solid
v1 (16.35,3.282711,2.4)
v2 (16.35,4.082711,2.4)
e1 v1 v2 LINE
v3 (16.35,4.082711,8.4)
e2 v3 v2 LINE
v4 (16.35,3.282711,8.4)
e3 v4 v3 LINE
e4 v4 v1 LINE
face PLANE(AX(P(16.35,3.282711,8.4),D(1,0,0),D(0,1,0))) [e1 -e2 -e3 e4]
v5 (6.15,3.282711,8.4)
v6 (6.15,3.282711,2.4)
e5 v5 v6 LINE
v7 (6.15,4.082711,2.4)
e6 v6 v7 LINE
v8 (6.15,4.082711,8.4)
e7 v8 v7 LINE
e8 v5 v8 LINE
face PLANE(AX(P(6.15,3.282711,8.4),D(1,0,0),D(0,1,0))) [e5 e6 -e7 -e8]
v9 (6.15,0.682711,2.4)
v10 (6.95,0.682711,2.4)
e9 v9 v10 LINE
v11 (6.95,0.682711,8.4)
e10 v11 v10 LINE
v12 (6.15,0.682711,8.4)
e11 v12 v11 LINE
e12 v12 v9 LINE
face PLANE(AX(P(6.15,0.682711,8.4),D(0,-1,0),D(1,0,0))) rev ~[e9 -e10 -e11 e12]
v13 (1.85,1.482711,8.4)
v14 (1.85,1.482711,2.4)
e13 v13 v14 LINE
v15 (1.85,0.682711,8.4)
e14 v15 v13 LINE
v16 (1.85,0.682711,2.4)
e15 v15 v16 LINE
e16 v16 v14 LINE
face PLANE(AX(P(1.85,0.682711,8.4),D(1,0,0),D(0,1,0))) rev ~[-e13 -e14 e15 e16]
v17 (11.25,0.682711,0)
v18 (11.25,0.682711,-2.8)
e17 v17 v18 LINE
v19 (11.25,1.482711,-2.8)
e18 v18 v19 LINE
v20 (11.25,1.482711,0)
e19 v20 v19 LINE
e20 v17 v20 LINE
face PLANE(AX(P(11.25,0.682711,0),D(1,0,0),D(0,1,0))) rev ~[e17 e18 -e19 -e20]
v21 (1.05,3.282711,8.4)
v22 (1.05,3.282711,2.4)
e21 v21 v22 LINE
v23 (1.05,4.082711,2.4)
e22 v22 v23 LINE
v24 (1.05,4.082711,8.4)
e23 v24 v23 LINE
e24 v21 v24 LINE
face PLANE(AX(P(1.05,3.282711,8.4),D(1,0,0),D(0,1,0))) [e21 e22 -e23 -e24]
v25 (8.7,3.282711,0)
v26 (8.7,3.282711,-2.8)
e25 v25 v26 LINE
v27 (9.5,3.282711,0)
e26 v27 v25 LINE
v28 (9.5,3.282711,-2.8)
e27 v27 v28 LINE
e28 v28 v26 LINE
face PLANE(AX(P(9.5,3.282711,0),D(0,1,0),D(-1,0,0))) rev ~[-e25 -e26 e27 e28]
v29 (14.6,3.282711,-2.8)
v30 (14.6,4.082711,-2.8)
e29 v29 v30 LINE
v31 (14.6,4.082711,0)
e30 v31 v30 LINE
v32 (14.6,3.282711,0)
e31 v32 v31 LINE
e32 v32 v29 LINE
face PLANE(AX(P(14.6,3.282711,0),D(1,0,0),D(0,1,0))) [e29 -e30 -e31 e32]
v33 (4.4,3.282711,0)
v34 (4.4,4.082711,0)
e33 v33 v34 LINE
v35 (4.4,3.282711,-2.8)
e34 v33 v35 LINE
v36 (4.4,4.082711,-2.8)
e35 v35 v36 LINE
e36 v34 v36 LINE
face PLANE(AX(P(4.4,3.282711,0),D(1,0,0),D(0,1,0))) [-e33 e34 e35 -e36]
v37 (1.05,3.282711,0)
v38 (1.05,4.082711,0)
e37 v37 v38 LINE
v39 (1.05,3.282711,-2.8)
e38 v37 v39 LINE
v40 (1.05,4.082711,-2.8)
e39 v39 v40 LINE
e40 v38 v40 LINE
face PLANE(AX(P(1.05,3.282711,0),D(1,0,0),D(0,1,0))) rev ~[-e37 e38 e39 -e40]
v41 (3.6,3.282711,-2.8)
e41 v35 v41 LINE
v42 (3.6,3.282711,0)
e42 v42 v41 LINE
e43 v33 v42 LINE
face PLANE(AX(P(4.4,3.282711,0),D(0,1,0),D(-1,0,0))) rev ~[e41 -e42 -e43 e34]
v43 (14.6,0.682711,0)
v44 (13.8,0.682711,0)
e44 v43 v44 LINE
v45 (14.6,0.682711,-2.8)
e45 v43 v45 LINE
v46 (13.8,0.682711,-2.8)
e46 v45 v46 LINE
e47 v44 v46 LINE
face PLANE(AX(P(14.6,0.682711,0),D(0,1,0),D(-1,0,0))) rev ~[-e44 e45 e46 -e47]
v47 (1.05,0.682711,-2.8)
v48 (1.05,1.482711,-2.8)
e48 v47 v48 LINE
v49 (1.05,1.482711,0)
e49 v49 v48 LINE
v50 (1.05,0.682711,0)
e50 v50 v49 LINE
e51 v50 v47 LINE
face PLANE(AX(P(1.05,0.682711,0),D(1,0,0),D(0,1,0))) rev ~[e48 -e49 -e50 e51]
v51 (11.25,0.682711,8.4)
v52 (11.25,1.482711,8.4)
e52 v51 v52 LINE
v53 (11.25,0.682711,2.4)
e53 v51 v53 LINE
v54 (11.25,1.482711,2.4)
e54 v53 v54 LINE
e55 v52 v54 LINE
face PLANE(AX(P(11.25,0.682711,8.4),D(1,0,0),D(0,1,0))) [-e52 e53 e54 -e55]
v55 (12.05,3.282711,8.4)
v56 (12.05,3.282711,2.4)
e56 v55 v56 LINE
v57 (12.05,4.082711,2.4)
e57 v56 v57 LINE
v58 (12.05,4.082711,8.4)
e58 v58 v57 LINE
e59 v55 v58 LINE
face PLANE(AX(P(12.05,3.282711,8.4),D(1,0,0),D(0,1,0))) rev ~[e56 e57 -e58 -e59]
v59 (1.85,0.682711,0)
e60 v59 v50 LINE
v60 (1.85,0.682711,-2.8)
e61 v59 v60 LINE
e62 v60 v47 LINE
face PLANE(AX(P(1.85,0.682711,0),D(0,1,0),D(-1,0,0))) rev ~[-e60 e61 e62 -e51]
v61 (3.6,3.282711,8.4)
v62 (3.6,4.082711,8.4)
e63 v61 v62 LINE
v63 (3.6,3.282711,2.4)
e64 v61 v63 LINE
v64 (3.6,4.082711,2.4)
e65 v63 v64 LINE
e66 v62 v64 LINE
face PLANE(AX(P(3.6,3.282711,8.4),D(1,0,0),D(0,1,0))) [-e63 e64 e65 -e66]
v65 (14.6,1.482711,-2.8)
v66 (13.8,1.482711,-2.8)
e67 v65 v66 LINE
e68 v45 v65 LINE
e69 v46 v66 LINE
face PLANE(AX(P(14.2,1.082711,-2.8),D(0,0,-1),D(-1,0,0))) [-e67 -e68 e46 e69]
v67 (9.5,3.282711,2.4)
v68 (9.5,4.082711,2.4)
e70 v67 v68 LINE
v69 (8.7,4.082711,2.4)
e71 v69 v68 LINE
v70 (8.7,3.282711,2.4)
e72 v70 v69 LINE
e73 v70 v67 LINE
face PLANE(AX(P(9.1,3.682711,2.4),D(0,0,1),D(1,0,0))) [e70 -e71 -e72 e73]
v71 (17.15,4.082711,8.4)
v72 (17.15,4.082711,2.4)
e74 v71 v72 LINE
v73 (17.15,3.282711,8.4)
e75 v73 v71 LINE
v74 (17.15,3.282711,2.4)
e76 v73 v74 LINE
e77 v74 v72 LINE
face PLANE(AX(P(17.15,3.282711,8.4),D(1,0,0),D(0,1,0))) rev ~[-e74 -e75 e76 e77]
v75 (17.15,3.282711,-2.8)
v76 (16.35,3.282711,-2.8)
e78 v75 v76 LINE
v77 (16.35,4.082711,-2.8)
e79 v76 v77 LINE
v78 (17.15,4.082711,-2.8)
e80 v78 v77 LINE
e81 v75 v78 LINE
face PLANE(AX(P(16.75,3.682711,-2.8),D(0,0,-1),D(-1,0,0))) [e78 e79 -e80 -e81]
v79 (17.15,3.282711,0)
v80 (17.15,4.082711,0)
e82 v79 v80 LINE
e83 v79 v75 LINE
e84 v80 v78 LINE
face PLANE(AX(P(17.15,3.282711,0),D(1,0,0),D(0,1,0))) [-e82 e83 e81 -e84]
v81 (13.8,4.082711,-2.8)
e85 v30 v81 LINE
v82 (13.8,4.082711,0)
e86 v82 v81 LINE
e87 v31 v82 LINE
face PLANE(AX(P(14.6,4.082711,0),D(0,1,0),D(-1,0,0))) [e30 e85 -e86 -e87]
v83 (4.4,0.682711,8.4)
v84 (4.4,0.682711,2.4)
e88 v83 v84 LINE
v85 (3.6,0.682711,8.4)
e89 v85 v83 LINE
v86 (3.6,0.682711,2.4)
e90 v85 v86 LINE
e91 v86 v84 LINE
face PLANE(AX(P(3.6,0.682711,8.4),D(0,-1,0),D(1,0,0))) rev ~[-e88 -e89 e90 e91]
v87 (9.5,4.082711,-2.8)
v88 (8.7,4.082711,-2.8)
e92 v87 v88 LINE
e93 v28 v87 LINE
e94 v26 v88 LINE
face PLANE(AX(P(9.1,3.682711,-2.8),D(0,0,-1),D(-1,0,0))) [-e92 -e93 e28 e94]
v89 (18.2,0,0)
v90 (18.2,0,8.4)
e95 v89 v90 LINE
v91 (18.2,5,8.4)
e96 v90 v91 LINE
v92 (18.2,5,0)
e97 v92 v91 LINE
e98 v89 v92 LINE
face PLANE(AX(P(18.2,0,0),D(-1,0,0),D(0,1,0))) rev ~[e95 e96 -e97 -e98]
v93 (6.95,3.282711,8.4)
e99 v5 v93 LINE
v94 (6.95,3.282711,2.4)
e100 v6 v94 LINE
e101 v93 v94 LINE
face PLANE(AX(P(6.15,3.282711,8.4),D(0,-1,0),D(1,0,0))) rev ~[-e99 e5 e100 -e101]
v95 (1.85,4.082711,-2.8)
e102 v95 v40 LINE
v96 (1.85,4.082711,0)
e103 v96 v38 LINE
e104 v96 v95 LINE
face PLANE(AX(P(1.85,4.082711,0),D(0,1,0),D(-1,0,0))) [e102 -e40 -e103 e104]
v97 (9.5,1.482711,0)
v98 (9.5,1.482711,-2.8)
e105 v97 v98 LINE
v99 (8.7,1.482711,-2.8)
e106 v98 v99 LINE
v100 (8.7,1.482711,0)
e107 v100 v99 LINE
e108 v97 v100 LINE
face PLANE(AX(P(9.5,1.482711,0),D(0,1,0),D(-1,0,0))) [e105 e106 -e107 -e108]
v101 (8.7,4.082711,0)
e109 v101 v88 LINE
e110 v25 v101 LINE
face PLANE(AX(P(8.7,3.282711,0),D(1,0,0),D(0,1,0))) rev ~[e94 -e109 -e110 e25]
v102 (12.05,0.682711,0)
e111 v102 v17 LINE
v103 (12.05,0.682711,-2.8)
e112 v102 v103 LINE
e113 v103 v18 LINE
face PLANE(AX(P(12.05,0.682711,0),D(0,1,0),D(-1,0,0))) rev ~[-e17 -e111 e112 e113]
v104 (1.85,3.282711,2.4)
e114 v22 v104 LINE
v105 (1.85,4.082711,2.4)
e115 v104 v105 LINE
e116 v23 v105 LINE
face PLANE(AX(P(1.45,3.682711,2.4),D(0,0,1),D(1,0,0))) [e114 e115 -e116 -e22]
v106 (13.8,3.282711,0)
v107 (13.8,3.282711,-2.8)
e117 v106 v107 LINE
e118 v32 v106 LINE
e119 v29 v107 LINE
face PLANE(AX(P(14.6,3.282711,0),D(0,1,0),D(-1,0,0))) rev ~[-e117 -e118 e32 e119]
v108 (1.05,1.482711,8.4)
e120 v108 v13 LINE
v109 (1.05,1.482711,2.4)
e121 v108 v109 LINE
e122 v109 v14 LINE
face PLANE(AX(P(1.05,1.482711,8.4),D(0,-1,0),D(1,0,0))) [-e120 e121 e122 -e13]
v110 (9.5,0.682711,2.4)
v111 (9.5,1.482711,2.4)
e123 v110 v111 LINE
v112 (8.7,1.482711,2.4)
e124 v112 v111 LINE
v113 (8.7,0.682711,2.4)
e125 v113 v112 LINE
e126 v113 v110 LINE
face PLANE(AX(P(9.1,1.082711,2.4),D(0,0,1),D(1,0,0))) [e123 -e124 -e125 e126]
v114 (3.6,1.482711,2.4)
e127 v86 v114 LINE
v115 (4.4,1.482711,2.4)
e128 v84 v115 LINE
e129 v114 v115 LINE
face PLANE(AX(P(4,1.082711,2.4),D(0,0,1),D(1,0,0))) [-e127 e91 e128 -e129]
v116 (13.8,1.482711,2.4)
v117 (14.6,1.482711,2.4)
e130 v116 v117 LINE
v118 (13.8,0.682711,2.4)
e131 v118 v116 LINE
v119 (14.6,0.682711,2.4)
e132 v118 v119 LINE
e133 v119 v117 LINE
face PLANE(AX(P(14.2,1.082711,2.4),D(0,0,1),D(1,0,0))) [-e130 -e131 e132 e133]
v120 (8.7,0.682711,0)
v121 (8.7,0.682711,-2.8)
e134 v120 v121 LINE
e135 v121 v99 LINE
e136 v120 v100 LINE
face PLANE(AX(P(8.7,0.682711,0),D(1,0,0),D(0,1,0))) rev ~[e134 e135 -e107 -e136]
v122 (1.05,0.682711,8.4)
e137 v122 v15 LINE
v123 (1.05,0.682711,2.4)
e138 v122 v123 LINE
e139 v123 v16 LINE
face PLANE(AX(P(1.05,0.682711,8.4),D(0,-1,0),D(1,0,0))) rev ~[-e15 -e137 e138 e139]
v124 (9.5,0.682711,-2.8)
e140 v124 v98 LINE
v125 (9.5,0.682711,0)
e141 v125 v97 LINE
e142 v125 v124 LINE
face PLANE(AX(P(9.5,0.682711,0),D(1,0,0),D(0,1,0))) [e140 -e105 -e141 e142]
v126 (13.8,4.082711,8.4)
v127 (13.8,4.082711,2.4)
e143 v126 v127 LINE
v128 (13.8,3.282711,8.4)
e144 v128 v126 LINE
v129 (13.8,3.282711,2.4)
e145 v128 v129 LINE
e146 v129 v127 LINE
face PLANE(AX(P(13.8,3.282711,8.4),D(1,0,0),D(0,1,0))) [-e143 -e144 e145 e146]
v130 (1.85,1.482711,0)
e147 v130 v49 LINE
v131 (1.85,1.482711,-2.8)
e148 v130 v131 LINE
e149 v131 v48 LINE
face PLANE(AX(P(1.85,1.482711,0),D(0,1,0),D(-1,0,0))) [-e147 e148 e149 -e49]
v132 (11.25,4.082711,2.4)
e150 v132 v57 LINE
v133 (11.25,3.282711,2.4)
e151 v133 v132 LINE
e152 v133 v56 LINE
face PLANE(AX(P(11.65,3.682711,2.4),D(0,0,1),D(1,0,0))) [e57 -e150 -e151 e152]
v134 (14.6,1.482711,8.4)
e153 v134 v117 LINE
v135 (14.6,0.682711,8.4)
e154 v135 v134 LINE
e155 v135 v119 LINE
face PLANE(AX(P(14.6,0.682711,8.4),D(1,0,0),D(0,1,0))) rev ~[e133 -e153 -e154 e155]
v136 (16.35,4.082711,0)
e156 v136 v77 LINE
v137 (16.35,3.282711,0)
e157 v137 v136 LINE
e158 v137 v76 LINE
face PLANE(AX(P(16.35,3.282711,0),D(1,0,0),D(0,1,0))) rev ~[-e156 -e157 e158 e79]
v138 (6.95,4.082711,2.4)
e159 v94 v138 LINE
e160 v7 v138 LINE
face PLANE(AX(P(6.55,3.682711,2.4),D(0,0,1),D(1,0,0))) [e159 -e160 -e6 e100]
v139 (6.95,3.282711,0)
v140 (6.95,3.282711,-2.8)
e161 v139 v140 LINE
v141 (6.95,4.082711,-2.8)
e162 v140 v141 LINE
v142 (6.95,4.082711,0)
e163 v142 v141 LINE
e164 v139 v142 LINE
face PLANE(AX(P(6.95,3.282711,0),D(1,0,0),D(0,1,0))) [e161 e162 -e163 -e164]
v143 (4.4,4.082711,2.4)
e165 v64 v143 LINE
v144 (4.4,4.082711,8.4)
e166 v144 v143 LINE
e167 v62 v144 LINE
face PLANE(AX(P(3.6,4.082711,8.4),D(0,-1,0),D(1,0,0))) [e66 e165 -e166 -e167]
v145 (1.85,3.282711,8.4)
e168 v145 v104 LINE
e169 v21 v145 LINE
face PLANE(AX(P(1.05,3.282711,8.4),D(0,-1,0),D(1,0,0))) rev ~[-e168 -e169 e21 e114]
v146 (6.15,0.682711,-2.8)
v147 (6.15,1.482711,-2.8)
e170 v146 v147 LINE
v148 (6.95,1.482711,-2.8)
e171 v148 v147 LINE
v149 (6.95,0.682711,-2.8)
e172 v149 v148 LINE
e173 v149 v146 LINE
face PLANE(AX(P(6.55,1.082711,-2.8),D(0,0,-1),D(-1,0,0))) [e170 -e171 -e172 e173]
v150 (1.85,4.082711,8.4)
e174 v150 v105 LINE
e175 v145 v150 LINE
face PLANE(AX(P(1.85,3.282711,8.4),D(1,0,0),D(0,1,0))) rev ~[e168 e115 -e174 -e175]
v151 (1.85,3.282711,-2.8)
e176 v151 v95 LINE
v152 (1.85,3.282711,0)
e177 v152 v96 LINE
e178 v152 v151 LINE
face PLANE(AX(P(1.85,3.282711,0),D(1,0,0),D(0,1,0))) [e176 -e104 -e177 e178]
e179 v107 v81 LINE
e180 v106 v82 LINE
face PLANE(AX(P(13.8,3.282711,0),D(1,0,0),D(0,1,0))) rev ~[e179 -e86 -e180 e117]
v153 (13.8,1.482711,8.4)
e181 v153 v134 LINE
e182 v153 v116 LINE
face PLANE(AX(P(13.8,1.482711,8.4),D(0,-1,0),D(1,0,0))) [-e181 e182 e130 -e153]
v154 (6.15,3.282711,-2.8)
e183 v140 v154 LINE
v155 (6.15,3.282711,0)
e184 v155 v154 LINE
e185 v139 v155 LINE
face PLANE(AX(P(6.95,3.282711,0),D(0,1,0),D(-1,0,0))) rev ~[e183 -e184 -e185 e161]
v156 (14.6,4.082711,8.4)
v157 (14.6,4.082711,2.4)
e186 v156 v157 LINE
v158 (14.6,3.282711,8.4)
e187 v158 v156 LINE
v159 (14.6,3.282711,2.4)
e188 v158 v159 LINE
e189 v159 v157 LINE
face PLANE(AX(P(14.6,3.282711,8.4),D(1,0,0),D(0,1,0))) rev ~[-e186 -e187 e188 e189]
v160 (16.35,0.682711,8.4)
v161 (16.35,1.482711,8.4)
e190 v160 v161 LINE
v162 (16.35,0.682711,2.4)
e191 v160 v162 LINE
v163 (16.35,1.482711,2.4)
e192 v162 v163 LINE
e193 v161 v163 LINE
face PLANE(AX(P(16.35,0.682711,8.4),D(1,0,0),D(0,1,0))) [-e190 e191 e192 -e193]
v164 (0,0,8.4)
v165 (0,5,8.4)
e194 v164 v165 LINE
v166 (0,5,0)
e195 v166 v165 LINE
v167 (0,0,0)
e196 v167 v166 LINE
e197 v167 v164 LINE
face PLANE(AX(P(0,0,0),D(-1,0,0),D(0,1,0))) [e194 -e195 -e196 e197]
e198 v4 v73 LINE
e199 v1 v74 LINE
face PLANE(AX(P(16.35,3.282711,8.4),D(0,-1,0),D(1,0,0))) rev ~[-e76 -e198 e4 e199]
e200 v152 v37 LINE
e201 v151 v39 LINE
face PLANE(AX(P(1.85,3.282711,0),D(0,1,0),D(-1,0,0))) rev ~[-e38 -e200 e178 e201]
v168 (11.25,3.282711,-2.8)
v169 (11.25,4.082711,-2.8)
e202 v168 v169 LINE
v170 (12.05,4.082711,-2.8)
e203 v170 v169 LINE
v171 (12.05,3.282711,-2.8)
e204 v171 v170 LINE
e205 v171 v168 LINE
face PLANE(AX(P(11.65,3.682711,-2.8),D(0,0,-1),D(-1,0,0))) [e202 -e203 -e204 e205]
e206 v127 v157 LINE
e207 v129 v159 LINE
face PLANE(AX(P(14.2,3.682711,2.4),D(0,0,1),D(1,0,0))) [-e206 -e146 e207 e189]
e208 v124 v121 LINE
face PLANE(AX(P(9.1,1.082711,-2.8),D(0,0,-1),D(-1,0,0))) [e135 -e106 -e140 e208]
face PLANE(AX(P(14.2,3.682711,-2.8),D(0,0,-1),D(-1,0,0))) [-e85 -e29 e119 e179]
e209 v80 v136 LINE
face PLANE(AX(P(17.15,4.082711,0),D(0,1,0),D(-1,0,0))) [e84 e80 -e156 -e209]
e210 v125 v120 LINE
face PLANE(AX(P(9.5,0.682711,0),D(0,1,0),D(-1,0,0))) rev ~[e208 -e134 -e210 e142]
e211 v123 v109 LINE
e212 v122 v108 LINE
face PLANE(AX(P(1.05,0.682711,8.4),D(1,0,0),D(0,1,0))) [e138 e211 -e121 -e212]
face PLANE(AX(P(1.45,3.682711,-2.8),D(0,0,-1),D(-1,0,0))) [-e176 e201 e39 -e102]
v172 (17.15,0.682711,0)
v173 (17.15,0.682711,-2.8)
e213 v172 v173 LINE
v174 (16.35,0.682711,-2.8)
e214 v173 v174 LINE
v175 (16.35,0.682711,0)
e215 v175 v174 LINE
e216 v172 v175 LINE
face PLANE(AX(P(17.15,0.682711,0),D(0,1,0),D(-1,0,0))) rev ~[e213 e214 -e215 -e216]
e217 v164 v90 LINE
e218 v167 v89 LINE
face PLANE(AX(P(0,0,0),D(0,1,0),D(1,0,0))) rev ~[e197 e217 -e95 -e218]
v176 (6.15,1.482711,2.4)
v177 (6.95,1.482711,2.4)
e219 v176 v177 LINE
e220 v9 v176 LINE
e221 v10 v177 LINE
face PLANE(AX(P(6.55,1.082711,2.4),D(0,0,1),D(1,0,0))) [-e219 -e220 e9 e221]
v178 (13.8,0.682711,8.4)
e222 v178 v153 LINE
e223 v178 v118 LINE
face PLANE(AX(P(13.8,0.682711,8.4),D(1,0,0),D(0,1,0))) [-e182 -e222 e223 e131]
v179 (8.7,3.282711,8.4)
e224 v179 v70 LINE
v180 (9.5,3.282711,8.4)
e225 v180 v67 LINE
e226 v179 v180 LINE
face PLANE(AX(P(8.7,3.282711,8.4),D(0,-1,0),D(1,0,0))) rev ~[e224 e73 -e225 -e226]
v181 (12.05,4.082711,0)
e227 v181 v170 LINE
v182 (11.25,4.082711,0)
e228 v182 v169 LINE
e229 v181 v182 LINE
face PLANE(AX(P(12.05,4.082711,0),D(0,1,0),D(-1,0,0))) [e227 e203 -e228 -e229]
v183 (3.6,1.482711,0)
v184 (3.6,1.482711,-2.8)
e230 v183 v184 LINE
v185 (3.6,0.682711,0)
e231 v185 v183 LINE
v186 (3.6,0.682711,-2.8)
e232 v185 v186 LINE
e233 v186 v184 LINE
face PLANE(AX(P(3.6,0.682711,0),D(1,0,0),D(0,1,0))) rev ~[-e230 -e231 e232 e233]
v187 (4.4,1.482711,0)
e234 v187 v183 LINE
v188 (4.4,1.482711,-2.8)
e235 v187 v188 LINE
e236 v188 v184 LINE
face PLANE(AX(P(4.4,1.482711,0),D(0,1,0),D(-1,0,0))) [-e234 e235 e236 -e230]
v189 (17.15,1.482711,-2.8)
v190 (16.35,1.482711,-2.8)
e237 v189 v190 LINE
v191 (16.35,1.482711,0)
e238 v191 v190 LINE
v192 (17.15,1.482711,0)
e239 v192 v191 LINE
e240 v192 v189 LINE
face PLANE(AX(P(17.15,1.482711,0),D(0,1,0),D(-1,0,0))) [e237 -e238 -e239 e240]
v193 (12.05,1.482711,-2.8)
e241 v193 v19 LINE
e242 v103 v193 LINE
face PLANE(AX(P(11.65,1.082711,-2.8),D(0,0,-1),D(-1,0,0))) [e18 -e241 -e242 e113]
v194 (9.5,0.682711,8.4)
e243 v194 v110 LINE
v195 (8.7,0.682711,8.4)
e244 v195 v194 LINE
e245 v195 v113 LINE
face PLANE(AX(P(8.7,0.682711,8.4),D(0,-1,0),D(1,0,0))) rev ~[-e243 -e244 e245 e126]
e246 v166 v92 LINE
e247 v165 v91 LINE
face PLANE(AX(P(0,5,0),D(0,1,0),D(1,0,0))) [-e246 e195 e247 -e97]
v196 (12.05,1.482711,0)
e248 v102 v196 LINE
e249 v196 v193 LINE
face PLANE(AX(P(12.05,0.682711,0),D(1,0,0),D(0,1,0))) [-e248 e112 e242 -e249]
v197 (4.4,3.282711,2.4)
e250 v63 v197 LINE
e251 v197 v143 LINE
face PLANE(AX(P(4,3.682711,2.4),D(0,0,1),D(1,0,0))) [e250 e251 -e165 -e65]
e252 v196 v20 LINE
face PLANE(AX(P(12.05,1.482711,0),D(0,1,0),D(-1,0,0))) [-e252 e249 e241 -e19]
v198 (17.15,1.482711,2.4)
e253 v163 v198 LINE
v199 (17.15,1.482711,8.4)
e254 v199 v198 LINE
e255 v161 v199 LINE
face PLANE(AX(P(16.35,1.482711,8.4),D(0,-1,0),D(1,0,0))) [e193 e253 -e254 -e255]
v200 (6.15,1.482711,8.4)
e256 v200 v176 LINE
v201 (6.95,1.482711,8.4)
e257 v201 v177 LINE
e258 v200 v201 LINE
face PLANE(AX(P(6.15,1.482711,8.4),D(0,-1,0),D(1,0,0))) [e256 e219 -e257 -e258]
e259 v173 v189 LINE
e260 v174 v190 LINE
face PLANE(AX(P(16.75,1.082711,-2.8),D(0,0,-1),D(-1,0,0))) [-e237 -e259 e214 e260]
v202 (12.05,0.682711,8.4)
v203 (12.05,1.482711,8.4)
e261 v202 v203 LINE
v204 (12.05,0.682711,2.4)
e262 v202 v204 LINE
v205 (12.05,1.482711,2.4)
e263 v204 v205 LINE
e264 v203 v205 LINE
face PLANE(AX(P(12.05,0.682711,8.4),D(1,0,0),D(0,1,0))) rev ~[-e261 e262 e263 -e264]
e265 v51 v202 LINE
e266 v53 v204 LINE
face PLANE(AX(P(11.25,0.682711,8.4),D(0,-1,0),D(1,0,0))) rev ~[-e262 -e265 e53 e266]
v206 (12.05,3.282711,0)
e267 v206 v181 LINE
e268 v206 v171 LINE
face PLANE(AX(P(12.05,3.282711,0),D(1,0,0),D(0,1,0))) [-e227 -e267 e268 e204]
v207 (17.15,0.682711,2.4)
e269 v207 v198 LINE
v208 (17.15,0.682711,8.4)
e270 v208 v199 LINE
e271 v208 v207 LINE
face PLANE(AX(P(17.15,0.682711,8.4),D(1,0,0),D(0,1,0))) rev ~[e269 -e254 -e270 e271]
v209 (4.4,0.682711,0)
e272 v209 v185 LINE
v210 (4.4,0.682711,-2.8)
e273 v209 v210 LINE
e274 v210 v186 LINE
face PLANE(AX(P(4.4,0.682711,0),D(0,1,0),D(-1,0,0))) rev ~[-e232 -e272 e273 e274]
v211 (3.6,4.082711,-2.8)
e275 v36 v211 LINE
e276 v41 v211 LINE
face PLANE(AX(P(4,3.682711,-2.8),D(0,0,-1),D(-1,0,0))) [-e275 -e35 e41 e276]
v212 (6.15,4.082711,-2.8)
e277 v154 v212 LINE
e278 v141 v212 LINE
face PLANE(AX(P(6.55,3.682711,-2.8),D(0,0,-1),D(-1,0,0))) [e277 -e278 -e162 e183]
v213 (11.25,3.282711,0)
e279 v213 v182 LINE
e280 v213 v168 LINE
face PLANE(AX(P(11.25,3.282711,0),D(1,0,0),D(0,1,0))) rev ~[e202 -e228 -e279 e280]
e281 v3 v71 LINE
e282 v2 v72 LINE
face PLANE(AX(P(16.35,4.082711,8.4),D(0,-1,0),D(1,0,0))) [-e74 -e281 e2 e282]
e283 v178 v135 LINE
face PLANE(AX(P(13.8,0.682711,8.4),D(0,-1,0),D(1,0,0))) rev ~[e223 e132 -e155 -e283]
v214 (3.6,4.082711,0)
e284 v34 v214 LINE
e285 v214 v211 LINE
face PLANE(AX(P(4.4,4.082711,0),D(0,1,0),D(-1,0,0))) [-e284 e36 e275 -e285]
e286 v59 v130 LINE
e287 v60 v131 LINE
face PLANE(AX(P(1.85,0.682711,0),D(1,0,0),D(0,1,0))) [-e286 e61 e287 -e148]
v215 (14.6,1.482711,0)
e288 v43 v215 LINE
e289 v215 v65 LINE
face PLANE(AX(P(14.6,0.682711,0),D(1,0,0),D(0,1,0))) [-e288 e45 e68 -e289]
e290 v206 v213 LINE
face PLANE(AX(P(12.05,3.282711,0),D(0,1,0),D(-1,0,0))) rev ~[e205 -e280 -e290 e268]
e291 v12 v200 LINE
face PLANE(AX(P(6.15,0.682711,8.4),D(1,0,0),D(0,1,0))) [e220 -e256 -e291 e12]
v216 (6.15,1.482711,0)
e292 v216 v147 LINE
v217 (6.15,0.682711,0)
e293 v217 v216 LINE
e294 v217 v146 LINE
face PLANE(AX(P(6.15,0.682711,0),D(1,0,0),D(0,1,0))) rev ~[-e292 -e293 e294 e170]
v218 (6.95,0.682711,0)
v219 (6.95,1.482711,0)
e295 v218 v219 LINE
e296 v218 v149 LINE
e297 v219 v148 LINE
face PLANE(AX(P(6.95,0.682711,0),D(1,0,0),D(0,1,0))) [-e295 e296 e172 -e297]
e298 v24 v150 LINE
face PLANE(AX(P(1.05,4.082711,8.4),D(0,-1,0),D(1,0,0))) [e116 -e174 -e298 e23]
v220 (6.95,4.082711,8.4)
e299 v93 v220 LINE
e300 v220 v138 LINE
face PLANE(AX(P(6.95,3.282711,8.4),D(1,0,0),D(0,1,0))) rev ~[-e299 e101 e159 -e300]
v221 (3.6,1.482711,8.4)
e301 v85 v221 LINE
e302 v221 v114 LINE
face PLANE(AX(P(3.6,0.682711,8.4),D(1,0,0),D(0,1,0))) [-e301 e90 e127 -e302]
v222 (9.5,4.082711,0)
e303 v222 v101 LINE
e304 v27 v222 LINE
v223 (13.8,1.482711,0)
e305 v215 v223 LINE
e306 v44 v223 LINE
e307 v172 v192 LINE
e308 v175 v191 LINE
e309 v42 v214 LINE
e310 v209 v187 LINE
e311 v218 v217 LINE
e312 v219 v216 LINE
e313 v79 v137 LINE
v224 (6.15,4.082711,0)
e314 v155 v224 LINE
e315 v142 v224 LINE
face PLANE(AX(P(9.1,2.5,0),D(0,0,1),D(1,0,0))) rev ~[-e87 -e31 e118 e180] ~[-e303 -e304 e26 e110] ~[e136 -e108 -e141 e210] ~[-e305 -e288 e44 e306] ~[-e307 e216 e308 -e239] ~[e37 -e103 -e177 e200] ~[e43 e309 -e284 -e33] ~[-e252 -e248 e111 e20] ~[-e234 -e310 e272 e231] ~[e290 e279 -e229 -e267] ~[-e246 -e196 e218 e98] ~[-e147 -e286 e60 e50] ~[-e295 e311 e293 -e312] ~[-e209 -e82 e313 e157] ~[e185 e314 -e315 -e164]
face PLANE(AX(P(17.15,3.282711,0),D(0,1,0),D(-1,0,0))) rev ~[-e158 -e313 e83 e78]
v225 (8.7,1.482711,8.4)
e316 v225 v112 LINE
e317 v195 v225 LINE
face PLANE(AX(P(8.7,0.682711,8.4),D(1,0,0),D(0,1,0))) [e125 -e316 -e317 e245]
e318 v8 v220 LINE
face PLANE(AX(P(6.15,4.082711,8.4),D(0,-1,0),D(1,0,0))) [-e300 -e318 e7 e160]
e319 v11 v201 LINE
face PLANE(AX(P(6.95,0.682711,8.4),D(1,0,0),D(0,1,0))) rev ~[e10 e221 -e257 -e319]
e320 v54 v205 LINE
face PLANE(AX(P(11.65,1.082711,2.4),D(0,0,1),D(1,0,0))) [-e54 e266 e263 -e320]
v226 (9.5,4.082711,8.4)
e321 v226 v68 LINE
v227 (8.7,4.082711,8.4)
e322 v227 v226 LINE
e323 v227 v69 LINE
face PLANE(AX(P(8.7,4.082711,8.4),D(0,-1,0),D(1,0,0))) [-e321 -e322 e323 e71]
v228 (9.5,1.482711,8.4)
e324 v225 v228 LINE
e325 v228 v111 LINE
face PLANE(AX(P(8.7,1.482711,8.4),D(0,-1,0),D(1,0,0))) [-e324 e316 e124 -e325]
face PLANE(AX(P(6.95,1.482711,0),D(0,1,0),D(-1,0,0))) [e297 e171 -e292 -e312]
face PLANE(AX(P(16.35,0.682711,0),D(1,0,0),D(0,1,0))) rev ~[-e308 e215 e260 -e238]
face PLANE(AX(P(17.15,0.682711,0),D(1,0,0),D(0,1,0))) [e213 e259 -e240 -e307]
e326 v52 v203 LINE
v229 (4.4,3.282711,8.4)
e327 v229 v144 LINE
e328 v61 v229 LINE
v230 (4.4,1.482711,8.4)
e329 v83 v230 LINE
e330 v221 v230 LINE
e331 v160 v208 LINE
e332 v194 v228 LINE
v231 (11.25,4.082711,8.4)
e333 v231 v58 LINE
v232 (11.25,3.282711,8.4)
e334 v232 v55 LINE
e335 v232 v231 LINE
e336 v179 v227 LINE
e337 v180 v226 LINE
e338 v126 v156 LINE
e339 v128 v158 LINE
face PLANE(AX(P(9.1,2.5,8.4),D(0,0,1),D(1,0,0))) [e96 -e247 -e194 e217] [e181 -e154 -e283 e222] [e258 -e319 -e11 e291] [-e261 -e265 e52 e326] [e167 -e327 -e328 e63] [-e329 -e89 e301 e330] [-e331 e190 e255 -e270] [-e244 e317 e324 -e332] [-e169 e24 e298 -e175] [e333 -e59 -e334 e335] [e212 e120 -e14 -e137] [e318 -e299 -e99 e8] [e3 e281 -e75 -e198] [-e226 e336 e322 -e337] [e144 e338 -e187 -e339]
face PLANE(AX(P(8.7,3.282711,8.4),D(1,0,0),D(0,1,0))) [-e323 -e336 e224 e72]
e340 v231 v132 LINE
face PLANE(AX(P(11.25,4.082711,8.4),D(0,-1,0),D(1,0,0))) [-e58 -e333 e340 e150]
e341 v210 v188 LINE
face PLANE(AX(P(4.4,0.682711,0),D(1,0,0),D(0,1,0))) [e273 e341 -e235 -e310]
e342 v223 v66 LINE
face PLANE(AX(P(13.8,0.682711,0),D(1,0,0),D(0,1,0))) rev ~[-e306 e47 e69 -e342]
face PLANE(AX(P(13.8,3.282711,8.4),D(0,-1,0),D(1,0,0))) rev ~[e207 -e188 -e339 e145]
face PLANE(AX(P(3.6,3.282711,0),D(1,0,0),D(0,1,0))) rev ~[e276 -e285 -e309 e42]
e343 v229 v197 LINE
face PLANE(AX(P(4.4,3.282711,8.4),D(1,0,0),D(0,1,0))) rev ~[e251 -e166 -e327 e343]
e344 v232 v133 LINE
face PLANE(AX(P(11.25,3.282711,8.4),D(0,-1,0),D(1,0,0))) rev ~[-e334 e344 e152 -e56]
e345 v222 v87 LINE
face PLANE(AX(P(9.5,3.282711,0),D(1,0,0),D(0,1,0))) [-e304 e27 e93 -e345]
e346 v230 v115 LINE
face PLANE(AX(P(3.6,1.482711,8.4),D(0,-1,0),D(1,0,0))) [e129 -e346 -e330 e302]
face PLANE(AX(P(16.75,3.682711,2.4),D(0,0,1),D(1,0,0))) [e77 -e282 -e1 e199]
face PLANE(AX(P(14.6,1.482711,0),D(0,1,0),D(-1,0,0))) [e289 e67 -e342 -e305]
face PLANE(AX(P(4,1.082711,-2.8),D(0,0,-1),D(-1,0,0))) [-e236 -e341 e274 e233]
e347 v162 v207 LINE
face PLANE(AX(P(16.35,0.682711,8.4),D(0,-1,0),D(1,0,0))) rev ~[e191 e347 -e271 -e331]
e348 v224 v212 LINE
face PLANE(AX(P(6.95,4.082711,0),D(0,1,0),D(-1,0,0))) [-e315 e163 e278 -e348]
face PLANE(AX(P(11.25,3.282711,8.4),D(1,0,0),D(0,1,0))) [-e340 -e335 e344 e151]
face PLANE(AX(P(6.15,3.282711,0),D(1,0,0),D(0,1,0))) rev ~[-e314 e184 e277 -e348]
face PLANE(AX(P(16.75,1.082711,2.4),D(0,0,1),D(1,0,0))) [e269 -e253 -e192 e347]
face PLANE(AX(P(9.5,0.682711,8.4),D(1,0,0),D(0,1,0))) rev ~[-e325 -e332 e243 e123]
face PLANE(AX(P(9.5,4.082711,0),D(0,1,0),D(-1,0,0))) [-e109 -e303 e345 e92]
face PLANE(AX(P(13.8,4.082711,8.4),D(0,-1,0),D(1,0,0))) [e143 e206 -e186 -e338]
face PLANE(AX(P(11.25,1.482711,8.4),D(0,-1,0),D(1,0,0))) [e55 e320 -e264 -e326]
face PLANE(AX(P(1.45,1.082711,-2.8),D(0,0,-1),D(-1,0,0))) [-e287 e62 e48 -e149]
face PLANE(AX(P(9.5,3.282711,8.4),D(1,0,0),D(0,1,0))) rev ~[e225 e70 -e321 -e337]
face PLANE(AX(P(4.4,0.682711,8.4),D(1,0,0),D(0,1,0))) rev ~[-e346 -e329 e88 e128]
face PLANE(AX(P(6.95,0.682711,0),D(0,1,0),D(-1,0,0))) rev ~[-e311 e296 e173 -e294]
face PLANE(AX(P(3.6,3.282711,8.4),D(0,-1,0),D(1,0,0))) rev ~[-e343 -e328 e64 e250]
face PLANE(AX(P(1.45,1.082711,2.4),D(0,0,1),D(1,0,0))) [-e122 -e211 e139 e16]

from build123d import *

# Parameters (mm, degrees)
SKICA1_W                 = 18.2
SKICA1_H                 = 5
P_IDAT_VYSUNUT_M1_DEPTH  = 8.4
SKICA3_W                 = 0.8
SKICA3_H                 = 0.8
ODEBRAT_VYSUNUT_M1_DEPTH = 6
SKICA6_W                 = 0.8
SKICA6_H                 = 0.8
P_IDAT_VYSUNUT_M2_DEPTH  = 2.8


with BuildPart() as part:
    # Skica1 → Přidat vysunutím1 (new body)
    with BuildSketch(Plane.XY):
        with Locations((9.1, 2.5)):
            Rectangle(SKICA1_W, SKICA1_H)
    extrude(amount=P_IDAT_VYSUNUT_M1_DEPTH)

    # Skica3 → Odebrat vysunutím1 (cut)
    with BuildSketch(Plane.XY.offset(8.4)):
        with Locations((1.45, 3.682710822)):
            Rectangle(SKICA3_W, SKICA3_H)
        with Locations((1.45, 1.082710822)):
            Rectangle(SKICA3_W, SKICA3_H)
        with Locations((6.55, 3.682710822)):
            Rectangle(SKICA3_W, SKICA3_H)
        with Locations((4, 3.682710822)):
            Rectangle(SKICA3_W, SKICA3_H)
        with Locations((4, 1.082710822)):
            Rectangle(SKICA3_W, SKICA3_H)
        with Locations((6.55, 1.082710822)):
            Rectangle(SKICA3_W, SKICA3_H)
        with Locations((9.1, 3.682710822)):
            Rectangle(SKICA3_W, SKICA3_H)
        with Locations((9.1, 1.082710822)):
            Rectangle(SKICA3_W, SKICA3_H)
        with Locations((11.65, 3.682710822)):
            Rectangle(SKICA3_W, SKICA3_H)
        with Locations((11.65, 1.082710822)):
            Rectangle(SKICA3_W, SKICA3_H)
        with Locations((14.2, 3.682710822)):
            Rectangle(SKICA3_W, SKICA3_H)
        with Locations((14.2, 1.082710822)):
            Rectangle(SKICA3_W, SKICA3_H)
        with Locations((16.75, 3.682710822)):
            Rectangle(SKICA3_W, SKICA3_H)
        with Locations((16.75, 1.082710822)):
            Rectangle(SKICA3_W, SKICA3_H)
    extrude(amount=-ODEBRAT_VYSUNUT_M1_DEPTH, mode=Mode.SUBTRACT)

    # Skica6 → Přidat vysunutím2 (add)
    with BuildSketch(Plane(origin=(0, 0, 0), x_dir=(-1, 0, 0), z_dir=(0, 0, -1))):
        with Locations((-1.45, 3.682710822)):
            Rectangle(SKICA6_W, SKICA6_H)
        with Locations((-4, 3.682710822)):
            Rectangle(SKICA6_W, SKICA6_H)
        with Locations((-6.55, 3.682710822)):
            Rectangle(SKICA6_W, SKICA6_H)
        with Locations((-9.1, 3.682710822)):
            Rectangle(SKICA6_W, SKICA6_H)
        with Locations((-11.65, 3.682710822)):
            Rectangle(SKICA6_W, SKICA6_H)
        with Locations((-14.2, 3.682710822)):
            Rectangle(SKICA6_W, SKICA6_H)
        with Locations((-16.75, 3.682710822)):
            Rectangle(SKICA6_W, SKICA6_H)
        with Locations((-1.45, 1.082710822)):
            Rectangle(SKICA6_W, SKICA6_H)
        with Locations((-4, 1.082710822)):
            Rectangle(SKICA6_W, SKICA6_H)
        with Locations((-6.55, 1.082710822)):
            Rectangle(SKICA6_W, SKICA6_H)
        with Locations((-9.1, 1.082710822)):
            Rectangle(SKICA6_W, SKICA6_H)
        with Locations((-11.65, 1.082710822)):
            Rectangle(SKICA6_W, SKICA6_H)
        with Locations((-14.2, 1.082710822)):
            Rectangle(SKICA6_W, SKICA6_H)
        with Locations((-16.75, 1.082710822)):
            Rectangle(SKICA6_W, SKICA6_H)
    extrude(amount=P_IDAT_VYSUNUT_M2_DEPTH)


solid = part.part
